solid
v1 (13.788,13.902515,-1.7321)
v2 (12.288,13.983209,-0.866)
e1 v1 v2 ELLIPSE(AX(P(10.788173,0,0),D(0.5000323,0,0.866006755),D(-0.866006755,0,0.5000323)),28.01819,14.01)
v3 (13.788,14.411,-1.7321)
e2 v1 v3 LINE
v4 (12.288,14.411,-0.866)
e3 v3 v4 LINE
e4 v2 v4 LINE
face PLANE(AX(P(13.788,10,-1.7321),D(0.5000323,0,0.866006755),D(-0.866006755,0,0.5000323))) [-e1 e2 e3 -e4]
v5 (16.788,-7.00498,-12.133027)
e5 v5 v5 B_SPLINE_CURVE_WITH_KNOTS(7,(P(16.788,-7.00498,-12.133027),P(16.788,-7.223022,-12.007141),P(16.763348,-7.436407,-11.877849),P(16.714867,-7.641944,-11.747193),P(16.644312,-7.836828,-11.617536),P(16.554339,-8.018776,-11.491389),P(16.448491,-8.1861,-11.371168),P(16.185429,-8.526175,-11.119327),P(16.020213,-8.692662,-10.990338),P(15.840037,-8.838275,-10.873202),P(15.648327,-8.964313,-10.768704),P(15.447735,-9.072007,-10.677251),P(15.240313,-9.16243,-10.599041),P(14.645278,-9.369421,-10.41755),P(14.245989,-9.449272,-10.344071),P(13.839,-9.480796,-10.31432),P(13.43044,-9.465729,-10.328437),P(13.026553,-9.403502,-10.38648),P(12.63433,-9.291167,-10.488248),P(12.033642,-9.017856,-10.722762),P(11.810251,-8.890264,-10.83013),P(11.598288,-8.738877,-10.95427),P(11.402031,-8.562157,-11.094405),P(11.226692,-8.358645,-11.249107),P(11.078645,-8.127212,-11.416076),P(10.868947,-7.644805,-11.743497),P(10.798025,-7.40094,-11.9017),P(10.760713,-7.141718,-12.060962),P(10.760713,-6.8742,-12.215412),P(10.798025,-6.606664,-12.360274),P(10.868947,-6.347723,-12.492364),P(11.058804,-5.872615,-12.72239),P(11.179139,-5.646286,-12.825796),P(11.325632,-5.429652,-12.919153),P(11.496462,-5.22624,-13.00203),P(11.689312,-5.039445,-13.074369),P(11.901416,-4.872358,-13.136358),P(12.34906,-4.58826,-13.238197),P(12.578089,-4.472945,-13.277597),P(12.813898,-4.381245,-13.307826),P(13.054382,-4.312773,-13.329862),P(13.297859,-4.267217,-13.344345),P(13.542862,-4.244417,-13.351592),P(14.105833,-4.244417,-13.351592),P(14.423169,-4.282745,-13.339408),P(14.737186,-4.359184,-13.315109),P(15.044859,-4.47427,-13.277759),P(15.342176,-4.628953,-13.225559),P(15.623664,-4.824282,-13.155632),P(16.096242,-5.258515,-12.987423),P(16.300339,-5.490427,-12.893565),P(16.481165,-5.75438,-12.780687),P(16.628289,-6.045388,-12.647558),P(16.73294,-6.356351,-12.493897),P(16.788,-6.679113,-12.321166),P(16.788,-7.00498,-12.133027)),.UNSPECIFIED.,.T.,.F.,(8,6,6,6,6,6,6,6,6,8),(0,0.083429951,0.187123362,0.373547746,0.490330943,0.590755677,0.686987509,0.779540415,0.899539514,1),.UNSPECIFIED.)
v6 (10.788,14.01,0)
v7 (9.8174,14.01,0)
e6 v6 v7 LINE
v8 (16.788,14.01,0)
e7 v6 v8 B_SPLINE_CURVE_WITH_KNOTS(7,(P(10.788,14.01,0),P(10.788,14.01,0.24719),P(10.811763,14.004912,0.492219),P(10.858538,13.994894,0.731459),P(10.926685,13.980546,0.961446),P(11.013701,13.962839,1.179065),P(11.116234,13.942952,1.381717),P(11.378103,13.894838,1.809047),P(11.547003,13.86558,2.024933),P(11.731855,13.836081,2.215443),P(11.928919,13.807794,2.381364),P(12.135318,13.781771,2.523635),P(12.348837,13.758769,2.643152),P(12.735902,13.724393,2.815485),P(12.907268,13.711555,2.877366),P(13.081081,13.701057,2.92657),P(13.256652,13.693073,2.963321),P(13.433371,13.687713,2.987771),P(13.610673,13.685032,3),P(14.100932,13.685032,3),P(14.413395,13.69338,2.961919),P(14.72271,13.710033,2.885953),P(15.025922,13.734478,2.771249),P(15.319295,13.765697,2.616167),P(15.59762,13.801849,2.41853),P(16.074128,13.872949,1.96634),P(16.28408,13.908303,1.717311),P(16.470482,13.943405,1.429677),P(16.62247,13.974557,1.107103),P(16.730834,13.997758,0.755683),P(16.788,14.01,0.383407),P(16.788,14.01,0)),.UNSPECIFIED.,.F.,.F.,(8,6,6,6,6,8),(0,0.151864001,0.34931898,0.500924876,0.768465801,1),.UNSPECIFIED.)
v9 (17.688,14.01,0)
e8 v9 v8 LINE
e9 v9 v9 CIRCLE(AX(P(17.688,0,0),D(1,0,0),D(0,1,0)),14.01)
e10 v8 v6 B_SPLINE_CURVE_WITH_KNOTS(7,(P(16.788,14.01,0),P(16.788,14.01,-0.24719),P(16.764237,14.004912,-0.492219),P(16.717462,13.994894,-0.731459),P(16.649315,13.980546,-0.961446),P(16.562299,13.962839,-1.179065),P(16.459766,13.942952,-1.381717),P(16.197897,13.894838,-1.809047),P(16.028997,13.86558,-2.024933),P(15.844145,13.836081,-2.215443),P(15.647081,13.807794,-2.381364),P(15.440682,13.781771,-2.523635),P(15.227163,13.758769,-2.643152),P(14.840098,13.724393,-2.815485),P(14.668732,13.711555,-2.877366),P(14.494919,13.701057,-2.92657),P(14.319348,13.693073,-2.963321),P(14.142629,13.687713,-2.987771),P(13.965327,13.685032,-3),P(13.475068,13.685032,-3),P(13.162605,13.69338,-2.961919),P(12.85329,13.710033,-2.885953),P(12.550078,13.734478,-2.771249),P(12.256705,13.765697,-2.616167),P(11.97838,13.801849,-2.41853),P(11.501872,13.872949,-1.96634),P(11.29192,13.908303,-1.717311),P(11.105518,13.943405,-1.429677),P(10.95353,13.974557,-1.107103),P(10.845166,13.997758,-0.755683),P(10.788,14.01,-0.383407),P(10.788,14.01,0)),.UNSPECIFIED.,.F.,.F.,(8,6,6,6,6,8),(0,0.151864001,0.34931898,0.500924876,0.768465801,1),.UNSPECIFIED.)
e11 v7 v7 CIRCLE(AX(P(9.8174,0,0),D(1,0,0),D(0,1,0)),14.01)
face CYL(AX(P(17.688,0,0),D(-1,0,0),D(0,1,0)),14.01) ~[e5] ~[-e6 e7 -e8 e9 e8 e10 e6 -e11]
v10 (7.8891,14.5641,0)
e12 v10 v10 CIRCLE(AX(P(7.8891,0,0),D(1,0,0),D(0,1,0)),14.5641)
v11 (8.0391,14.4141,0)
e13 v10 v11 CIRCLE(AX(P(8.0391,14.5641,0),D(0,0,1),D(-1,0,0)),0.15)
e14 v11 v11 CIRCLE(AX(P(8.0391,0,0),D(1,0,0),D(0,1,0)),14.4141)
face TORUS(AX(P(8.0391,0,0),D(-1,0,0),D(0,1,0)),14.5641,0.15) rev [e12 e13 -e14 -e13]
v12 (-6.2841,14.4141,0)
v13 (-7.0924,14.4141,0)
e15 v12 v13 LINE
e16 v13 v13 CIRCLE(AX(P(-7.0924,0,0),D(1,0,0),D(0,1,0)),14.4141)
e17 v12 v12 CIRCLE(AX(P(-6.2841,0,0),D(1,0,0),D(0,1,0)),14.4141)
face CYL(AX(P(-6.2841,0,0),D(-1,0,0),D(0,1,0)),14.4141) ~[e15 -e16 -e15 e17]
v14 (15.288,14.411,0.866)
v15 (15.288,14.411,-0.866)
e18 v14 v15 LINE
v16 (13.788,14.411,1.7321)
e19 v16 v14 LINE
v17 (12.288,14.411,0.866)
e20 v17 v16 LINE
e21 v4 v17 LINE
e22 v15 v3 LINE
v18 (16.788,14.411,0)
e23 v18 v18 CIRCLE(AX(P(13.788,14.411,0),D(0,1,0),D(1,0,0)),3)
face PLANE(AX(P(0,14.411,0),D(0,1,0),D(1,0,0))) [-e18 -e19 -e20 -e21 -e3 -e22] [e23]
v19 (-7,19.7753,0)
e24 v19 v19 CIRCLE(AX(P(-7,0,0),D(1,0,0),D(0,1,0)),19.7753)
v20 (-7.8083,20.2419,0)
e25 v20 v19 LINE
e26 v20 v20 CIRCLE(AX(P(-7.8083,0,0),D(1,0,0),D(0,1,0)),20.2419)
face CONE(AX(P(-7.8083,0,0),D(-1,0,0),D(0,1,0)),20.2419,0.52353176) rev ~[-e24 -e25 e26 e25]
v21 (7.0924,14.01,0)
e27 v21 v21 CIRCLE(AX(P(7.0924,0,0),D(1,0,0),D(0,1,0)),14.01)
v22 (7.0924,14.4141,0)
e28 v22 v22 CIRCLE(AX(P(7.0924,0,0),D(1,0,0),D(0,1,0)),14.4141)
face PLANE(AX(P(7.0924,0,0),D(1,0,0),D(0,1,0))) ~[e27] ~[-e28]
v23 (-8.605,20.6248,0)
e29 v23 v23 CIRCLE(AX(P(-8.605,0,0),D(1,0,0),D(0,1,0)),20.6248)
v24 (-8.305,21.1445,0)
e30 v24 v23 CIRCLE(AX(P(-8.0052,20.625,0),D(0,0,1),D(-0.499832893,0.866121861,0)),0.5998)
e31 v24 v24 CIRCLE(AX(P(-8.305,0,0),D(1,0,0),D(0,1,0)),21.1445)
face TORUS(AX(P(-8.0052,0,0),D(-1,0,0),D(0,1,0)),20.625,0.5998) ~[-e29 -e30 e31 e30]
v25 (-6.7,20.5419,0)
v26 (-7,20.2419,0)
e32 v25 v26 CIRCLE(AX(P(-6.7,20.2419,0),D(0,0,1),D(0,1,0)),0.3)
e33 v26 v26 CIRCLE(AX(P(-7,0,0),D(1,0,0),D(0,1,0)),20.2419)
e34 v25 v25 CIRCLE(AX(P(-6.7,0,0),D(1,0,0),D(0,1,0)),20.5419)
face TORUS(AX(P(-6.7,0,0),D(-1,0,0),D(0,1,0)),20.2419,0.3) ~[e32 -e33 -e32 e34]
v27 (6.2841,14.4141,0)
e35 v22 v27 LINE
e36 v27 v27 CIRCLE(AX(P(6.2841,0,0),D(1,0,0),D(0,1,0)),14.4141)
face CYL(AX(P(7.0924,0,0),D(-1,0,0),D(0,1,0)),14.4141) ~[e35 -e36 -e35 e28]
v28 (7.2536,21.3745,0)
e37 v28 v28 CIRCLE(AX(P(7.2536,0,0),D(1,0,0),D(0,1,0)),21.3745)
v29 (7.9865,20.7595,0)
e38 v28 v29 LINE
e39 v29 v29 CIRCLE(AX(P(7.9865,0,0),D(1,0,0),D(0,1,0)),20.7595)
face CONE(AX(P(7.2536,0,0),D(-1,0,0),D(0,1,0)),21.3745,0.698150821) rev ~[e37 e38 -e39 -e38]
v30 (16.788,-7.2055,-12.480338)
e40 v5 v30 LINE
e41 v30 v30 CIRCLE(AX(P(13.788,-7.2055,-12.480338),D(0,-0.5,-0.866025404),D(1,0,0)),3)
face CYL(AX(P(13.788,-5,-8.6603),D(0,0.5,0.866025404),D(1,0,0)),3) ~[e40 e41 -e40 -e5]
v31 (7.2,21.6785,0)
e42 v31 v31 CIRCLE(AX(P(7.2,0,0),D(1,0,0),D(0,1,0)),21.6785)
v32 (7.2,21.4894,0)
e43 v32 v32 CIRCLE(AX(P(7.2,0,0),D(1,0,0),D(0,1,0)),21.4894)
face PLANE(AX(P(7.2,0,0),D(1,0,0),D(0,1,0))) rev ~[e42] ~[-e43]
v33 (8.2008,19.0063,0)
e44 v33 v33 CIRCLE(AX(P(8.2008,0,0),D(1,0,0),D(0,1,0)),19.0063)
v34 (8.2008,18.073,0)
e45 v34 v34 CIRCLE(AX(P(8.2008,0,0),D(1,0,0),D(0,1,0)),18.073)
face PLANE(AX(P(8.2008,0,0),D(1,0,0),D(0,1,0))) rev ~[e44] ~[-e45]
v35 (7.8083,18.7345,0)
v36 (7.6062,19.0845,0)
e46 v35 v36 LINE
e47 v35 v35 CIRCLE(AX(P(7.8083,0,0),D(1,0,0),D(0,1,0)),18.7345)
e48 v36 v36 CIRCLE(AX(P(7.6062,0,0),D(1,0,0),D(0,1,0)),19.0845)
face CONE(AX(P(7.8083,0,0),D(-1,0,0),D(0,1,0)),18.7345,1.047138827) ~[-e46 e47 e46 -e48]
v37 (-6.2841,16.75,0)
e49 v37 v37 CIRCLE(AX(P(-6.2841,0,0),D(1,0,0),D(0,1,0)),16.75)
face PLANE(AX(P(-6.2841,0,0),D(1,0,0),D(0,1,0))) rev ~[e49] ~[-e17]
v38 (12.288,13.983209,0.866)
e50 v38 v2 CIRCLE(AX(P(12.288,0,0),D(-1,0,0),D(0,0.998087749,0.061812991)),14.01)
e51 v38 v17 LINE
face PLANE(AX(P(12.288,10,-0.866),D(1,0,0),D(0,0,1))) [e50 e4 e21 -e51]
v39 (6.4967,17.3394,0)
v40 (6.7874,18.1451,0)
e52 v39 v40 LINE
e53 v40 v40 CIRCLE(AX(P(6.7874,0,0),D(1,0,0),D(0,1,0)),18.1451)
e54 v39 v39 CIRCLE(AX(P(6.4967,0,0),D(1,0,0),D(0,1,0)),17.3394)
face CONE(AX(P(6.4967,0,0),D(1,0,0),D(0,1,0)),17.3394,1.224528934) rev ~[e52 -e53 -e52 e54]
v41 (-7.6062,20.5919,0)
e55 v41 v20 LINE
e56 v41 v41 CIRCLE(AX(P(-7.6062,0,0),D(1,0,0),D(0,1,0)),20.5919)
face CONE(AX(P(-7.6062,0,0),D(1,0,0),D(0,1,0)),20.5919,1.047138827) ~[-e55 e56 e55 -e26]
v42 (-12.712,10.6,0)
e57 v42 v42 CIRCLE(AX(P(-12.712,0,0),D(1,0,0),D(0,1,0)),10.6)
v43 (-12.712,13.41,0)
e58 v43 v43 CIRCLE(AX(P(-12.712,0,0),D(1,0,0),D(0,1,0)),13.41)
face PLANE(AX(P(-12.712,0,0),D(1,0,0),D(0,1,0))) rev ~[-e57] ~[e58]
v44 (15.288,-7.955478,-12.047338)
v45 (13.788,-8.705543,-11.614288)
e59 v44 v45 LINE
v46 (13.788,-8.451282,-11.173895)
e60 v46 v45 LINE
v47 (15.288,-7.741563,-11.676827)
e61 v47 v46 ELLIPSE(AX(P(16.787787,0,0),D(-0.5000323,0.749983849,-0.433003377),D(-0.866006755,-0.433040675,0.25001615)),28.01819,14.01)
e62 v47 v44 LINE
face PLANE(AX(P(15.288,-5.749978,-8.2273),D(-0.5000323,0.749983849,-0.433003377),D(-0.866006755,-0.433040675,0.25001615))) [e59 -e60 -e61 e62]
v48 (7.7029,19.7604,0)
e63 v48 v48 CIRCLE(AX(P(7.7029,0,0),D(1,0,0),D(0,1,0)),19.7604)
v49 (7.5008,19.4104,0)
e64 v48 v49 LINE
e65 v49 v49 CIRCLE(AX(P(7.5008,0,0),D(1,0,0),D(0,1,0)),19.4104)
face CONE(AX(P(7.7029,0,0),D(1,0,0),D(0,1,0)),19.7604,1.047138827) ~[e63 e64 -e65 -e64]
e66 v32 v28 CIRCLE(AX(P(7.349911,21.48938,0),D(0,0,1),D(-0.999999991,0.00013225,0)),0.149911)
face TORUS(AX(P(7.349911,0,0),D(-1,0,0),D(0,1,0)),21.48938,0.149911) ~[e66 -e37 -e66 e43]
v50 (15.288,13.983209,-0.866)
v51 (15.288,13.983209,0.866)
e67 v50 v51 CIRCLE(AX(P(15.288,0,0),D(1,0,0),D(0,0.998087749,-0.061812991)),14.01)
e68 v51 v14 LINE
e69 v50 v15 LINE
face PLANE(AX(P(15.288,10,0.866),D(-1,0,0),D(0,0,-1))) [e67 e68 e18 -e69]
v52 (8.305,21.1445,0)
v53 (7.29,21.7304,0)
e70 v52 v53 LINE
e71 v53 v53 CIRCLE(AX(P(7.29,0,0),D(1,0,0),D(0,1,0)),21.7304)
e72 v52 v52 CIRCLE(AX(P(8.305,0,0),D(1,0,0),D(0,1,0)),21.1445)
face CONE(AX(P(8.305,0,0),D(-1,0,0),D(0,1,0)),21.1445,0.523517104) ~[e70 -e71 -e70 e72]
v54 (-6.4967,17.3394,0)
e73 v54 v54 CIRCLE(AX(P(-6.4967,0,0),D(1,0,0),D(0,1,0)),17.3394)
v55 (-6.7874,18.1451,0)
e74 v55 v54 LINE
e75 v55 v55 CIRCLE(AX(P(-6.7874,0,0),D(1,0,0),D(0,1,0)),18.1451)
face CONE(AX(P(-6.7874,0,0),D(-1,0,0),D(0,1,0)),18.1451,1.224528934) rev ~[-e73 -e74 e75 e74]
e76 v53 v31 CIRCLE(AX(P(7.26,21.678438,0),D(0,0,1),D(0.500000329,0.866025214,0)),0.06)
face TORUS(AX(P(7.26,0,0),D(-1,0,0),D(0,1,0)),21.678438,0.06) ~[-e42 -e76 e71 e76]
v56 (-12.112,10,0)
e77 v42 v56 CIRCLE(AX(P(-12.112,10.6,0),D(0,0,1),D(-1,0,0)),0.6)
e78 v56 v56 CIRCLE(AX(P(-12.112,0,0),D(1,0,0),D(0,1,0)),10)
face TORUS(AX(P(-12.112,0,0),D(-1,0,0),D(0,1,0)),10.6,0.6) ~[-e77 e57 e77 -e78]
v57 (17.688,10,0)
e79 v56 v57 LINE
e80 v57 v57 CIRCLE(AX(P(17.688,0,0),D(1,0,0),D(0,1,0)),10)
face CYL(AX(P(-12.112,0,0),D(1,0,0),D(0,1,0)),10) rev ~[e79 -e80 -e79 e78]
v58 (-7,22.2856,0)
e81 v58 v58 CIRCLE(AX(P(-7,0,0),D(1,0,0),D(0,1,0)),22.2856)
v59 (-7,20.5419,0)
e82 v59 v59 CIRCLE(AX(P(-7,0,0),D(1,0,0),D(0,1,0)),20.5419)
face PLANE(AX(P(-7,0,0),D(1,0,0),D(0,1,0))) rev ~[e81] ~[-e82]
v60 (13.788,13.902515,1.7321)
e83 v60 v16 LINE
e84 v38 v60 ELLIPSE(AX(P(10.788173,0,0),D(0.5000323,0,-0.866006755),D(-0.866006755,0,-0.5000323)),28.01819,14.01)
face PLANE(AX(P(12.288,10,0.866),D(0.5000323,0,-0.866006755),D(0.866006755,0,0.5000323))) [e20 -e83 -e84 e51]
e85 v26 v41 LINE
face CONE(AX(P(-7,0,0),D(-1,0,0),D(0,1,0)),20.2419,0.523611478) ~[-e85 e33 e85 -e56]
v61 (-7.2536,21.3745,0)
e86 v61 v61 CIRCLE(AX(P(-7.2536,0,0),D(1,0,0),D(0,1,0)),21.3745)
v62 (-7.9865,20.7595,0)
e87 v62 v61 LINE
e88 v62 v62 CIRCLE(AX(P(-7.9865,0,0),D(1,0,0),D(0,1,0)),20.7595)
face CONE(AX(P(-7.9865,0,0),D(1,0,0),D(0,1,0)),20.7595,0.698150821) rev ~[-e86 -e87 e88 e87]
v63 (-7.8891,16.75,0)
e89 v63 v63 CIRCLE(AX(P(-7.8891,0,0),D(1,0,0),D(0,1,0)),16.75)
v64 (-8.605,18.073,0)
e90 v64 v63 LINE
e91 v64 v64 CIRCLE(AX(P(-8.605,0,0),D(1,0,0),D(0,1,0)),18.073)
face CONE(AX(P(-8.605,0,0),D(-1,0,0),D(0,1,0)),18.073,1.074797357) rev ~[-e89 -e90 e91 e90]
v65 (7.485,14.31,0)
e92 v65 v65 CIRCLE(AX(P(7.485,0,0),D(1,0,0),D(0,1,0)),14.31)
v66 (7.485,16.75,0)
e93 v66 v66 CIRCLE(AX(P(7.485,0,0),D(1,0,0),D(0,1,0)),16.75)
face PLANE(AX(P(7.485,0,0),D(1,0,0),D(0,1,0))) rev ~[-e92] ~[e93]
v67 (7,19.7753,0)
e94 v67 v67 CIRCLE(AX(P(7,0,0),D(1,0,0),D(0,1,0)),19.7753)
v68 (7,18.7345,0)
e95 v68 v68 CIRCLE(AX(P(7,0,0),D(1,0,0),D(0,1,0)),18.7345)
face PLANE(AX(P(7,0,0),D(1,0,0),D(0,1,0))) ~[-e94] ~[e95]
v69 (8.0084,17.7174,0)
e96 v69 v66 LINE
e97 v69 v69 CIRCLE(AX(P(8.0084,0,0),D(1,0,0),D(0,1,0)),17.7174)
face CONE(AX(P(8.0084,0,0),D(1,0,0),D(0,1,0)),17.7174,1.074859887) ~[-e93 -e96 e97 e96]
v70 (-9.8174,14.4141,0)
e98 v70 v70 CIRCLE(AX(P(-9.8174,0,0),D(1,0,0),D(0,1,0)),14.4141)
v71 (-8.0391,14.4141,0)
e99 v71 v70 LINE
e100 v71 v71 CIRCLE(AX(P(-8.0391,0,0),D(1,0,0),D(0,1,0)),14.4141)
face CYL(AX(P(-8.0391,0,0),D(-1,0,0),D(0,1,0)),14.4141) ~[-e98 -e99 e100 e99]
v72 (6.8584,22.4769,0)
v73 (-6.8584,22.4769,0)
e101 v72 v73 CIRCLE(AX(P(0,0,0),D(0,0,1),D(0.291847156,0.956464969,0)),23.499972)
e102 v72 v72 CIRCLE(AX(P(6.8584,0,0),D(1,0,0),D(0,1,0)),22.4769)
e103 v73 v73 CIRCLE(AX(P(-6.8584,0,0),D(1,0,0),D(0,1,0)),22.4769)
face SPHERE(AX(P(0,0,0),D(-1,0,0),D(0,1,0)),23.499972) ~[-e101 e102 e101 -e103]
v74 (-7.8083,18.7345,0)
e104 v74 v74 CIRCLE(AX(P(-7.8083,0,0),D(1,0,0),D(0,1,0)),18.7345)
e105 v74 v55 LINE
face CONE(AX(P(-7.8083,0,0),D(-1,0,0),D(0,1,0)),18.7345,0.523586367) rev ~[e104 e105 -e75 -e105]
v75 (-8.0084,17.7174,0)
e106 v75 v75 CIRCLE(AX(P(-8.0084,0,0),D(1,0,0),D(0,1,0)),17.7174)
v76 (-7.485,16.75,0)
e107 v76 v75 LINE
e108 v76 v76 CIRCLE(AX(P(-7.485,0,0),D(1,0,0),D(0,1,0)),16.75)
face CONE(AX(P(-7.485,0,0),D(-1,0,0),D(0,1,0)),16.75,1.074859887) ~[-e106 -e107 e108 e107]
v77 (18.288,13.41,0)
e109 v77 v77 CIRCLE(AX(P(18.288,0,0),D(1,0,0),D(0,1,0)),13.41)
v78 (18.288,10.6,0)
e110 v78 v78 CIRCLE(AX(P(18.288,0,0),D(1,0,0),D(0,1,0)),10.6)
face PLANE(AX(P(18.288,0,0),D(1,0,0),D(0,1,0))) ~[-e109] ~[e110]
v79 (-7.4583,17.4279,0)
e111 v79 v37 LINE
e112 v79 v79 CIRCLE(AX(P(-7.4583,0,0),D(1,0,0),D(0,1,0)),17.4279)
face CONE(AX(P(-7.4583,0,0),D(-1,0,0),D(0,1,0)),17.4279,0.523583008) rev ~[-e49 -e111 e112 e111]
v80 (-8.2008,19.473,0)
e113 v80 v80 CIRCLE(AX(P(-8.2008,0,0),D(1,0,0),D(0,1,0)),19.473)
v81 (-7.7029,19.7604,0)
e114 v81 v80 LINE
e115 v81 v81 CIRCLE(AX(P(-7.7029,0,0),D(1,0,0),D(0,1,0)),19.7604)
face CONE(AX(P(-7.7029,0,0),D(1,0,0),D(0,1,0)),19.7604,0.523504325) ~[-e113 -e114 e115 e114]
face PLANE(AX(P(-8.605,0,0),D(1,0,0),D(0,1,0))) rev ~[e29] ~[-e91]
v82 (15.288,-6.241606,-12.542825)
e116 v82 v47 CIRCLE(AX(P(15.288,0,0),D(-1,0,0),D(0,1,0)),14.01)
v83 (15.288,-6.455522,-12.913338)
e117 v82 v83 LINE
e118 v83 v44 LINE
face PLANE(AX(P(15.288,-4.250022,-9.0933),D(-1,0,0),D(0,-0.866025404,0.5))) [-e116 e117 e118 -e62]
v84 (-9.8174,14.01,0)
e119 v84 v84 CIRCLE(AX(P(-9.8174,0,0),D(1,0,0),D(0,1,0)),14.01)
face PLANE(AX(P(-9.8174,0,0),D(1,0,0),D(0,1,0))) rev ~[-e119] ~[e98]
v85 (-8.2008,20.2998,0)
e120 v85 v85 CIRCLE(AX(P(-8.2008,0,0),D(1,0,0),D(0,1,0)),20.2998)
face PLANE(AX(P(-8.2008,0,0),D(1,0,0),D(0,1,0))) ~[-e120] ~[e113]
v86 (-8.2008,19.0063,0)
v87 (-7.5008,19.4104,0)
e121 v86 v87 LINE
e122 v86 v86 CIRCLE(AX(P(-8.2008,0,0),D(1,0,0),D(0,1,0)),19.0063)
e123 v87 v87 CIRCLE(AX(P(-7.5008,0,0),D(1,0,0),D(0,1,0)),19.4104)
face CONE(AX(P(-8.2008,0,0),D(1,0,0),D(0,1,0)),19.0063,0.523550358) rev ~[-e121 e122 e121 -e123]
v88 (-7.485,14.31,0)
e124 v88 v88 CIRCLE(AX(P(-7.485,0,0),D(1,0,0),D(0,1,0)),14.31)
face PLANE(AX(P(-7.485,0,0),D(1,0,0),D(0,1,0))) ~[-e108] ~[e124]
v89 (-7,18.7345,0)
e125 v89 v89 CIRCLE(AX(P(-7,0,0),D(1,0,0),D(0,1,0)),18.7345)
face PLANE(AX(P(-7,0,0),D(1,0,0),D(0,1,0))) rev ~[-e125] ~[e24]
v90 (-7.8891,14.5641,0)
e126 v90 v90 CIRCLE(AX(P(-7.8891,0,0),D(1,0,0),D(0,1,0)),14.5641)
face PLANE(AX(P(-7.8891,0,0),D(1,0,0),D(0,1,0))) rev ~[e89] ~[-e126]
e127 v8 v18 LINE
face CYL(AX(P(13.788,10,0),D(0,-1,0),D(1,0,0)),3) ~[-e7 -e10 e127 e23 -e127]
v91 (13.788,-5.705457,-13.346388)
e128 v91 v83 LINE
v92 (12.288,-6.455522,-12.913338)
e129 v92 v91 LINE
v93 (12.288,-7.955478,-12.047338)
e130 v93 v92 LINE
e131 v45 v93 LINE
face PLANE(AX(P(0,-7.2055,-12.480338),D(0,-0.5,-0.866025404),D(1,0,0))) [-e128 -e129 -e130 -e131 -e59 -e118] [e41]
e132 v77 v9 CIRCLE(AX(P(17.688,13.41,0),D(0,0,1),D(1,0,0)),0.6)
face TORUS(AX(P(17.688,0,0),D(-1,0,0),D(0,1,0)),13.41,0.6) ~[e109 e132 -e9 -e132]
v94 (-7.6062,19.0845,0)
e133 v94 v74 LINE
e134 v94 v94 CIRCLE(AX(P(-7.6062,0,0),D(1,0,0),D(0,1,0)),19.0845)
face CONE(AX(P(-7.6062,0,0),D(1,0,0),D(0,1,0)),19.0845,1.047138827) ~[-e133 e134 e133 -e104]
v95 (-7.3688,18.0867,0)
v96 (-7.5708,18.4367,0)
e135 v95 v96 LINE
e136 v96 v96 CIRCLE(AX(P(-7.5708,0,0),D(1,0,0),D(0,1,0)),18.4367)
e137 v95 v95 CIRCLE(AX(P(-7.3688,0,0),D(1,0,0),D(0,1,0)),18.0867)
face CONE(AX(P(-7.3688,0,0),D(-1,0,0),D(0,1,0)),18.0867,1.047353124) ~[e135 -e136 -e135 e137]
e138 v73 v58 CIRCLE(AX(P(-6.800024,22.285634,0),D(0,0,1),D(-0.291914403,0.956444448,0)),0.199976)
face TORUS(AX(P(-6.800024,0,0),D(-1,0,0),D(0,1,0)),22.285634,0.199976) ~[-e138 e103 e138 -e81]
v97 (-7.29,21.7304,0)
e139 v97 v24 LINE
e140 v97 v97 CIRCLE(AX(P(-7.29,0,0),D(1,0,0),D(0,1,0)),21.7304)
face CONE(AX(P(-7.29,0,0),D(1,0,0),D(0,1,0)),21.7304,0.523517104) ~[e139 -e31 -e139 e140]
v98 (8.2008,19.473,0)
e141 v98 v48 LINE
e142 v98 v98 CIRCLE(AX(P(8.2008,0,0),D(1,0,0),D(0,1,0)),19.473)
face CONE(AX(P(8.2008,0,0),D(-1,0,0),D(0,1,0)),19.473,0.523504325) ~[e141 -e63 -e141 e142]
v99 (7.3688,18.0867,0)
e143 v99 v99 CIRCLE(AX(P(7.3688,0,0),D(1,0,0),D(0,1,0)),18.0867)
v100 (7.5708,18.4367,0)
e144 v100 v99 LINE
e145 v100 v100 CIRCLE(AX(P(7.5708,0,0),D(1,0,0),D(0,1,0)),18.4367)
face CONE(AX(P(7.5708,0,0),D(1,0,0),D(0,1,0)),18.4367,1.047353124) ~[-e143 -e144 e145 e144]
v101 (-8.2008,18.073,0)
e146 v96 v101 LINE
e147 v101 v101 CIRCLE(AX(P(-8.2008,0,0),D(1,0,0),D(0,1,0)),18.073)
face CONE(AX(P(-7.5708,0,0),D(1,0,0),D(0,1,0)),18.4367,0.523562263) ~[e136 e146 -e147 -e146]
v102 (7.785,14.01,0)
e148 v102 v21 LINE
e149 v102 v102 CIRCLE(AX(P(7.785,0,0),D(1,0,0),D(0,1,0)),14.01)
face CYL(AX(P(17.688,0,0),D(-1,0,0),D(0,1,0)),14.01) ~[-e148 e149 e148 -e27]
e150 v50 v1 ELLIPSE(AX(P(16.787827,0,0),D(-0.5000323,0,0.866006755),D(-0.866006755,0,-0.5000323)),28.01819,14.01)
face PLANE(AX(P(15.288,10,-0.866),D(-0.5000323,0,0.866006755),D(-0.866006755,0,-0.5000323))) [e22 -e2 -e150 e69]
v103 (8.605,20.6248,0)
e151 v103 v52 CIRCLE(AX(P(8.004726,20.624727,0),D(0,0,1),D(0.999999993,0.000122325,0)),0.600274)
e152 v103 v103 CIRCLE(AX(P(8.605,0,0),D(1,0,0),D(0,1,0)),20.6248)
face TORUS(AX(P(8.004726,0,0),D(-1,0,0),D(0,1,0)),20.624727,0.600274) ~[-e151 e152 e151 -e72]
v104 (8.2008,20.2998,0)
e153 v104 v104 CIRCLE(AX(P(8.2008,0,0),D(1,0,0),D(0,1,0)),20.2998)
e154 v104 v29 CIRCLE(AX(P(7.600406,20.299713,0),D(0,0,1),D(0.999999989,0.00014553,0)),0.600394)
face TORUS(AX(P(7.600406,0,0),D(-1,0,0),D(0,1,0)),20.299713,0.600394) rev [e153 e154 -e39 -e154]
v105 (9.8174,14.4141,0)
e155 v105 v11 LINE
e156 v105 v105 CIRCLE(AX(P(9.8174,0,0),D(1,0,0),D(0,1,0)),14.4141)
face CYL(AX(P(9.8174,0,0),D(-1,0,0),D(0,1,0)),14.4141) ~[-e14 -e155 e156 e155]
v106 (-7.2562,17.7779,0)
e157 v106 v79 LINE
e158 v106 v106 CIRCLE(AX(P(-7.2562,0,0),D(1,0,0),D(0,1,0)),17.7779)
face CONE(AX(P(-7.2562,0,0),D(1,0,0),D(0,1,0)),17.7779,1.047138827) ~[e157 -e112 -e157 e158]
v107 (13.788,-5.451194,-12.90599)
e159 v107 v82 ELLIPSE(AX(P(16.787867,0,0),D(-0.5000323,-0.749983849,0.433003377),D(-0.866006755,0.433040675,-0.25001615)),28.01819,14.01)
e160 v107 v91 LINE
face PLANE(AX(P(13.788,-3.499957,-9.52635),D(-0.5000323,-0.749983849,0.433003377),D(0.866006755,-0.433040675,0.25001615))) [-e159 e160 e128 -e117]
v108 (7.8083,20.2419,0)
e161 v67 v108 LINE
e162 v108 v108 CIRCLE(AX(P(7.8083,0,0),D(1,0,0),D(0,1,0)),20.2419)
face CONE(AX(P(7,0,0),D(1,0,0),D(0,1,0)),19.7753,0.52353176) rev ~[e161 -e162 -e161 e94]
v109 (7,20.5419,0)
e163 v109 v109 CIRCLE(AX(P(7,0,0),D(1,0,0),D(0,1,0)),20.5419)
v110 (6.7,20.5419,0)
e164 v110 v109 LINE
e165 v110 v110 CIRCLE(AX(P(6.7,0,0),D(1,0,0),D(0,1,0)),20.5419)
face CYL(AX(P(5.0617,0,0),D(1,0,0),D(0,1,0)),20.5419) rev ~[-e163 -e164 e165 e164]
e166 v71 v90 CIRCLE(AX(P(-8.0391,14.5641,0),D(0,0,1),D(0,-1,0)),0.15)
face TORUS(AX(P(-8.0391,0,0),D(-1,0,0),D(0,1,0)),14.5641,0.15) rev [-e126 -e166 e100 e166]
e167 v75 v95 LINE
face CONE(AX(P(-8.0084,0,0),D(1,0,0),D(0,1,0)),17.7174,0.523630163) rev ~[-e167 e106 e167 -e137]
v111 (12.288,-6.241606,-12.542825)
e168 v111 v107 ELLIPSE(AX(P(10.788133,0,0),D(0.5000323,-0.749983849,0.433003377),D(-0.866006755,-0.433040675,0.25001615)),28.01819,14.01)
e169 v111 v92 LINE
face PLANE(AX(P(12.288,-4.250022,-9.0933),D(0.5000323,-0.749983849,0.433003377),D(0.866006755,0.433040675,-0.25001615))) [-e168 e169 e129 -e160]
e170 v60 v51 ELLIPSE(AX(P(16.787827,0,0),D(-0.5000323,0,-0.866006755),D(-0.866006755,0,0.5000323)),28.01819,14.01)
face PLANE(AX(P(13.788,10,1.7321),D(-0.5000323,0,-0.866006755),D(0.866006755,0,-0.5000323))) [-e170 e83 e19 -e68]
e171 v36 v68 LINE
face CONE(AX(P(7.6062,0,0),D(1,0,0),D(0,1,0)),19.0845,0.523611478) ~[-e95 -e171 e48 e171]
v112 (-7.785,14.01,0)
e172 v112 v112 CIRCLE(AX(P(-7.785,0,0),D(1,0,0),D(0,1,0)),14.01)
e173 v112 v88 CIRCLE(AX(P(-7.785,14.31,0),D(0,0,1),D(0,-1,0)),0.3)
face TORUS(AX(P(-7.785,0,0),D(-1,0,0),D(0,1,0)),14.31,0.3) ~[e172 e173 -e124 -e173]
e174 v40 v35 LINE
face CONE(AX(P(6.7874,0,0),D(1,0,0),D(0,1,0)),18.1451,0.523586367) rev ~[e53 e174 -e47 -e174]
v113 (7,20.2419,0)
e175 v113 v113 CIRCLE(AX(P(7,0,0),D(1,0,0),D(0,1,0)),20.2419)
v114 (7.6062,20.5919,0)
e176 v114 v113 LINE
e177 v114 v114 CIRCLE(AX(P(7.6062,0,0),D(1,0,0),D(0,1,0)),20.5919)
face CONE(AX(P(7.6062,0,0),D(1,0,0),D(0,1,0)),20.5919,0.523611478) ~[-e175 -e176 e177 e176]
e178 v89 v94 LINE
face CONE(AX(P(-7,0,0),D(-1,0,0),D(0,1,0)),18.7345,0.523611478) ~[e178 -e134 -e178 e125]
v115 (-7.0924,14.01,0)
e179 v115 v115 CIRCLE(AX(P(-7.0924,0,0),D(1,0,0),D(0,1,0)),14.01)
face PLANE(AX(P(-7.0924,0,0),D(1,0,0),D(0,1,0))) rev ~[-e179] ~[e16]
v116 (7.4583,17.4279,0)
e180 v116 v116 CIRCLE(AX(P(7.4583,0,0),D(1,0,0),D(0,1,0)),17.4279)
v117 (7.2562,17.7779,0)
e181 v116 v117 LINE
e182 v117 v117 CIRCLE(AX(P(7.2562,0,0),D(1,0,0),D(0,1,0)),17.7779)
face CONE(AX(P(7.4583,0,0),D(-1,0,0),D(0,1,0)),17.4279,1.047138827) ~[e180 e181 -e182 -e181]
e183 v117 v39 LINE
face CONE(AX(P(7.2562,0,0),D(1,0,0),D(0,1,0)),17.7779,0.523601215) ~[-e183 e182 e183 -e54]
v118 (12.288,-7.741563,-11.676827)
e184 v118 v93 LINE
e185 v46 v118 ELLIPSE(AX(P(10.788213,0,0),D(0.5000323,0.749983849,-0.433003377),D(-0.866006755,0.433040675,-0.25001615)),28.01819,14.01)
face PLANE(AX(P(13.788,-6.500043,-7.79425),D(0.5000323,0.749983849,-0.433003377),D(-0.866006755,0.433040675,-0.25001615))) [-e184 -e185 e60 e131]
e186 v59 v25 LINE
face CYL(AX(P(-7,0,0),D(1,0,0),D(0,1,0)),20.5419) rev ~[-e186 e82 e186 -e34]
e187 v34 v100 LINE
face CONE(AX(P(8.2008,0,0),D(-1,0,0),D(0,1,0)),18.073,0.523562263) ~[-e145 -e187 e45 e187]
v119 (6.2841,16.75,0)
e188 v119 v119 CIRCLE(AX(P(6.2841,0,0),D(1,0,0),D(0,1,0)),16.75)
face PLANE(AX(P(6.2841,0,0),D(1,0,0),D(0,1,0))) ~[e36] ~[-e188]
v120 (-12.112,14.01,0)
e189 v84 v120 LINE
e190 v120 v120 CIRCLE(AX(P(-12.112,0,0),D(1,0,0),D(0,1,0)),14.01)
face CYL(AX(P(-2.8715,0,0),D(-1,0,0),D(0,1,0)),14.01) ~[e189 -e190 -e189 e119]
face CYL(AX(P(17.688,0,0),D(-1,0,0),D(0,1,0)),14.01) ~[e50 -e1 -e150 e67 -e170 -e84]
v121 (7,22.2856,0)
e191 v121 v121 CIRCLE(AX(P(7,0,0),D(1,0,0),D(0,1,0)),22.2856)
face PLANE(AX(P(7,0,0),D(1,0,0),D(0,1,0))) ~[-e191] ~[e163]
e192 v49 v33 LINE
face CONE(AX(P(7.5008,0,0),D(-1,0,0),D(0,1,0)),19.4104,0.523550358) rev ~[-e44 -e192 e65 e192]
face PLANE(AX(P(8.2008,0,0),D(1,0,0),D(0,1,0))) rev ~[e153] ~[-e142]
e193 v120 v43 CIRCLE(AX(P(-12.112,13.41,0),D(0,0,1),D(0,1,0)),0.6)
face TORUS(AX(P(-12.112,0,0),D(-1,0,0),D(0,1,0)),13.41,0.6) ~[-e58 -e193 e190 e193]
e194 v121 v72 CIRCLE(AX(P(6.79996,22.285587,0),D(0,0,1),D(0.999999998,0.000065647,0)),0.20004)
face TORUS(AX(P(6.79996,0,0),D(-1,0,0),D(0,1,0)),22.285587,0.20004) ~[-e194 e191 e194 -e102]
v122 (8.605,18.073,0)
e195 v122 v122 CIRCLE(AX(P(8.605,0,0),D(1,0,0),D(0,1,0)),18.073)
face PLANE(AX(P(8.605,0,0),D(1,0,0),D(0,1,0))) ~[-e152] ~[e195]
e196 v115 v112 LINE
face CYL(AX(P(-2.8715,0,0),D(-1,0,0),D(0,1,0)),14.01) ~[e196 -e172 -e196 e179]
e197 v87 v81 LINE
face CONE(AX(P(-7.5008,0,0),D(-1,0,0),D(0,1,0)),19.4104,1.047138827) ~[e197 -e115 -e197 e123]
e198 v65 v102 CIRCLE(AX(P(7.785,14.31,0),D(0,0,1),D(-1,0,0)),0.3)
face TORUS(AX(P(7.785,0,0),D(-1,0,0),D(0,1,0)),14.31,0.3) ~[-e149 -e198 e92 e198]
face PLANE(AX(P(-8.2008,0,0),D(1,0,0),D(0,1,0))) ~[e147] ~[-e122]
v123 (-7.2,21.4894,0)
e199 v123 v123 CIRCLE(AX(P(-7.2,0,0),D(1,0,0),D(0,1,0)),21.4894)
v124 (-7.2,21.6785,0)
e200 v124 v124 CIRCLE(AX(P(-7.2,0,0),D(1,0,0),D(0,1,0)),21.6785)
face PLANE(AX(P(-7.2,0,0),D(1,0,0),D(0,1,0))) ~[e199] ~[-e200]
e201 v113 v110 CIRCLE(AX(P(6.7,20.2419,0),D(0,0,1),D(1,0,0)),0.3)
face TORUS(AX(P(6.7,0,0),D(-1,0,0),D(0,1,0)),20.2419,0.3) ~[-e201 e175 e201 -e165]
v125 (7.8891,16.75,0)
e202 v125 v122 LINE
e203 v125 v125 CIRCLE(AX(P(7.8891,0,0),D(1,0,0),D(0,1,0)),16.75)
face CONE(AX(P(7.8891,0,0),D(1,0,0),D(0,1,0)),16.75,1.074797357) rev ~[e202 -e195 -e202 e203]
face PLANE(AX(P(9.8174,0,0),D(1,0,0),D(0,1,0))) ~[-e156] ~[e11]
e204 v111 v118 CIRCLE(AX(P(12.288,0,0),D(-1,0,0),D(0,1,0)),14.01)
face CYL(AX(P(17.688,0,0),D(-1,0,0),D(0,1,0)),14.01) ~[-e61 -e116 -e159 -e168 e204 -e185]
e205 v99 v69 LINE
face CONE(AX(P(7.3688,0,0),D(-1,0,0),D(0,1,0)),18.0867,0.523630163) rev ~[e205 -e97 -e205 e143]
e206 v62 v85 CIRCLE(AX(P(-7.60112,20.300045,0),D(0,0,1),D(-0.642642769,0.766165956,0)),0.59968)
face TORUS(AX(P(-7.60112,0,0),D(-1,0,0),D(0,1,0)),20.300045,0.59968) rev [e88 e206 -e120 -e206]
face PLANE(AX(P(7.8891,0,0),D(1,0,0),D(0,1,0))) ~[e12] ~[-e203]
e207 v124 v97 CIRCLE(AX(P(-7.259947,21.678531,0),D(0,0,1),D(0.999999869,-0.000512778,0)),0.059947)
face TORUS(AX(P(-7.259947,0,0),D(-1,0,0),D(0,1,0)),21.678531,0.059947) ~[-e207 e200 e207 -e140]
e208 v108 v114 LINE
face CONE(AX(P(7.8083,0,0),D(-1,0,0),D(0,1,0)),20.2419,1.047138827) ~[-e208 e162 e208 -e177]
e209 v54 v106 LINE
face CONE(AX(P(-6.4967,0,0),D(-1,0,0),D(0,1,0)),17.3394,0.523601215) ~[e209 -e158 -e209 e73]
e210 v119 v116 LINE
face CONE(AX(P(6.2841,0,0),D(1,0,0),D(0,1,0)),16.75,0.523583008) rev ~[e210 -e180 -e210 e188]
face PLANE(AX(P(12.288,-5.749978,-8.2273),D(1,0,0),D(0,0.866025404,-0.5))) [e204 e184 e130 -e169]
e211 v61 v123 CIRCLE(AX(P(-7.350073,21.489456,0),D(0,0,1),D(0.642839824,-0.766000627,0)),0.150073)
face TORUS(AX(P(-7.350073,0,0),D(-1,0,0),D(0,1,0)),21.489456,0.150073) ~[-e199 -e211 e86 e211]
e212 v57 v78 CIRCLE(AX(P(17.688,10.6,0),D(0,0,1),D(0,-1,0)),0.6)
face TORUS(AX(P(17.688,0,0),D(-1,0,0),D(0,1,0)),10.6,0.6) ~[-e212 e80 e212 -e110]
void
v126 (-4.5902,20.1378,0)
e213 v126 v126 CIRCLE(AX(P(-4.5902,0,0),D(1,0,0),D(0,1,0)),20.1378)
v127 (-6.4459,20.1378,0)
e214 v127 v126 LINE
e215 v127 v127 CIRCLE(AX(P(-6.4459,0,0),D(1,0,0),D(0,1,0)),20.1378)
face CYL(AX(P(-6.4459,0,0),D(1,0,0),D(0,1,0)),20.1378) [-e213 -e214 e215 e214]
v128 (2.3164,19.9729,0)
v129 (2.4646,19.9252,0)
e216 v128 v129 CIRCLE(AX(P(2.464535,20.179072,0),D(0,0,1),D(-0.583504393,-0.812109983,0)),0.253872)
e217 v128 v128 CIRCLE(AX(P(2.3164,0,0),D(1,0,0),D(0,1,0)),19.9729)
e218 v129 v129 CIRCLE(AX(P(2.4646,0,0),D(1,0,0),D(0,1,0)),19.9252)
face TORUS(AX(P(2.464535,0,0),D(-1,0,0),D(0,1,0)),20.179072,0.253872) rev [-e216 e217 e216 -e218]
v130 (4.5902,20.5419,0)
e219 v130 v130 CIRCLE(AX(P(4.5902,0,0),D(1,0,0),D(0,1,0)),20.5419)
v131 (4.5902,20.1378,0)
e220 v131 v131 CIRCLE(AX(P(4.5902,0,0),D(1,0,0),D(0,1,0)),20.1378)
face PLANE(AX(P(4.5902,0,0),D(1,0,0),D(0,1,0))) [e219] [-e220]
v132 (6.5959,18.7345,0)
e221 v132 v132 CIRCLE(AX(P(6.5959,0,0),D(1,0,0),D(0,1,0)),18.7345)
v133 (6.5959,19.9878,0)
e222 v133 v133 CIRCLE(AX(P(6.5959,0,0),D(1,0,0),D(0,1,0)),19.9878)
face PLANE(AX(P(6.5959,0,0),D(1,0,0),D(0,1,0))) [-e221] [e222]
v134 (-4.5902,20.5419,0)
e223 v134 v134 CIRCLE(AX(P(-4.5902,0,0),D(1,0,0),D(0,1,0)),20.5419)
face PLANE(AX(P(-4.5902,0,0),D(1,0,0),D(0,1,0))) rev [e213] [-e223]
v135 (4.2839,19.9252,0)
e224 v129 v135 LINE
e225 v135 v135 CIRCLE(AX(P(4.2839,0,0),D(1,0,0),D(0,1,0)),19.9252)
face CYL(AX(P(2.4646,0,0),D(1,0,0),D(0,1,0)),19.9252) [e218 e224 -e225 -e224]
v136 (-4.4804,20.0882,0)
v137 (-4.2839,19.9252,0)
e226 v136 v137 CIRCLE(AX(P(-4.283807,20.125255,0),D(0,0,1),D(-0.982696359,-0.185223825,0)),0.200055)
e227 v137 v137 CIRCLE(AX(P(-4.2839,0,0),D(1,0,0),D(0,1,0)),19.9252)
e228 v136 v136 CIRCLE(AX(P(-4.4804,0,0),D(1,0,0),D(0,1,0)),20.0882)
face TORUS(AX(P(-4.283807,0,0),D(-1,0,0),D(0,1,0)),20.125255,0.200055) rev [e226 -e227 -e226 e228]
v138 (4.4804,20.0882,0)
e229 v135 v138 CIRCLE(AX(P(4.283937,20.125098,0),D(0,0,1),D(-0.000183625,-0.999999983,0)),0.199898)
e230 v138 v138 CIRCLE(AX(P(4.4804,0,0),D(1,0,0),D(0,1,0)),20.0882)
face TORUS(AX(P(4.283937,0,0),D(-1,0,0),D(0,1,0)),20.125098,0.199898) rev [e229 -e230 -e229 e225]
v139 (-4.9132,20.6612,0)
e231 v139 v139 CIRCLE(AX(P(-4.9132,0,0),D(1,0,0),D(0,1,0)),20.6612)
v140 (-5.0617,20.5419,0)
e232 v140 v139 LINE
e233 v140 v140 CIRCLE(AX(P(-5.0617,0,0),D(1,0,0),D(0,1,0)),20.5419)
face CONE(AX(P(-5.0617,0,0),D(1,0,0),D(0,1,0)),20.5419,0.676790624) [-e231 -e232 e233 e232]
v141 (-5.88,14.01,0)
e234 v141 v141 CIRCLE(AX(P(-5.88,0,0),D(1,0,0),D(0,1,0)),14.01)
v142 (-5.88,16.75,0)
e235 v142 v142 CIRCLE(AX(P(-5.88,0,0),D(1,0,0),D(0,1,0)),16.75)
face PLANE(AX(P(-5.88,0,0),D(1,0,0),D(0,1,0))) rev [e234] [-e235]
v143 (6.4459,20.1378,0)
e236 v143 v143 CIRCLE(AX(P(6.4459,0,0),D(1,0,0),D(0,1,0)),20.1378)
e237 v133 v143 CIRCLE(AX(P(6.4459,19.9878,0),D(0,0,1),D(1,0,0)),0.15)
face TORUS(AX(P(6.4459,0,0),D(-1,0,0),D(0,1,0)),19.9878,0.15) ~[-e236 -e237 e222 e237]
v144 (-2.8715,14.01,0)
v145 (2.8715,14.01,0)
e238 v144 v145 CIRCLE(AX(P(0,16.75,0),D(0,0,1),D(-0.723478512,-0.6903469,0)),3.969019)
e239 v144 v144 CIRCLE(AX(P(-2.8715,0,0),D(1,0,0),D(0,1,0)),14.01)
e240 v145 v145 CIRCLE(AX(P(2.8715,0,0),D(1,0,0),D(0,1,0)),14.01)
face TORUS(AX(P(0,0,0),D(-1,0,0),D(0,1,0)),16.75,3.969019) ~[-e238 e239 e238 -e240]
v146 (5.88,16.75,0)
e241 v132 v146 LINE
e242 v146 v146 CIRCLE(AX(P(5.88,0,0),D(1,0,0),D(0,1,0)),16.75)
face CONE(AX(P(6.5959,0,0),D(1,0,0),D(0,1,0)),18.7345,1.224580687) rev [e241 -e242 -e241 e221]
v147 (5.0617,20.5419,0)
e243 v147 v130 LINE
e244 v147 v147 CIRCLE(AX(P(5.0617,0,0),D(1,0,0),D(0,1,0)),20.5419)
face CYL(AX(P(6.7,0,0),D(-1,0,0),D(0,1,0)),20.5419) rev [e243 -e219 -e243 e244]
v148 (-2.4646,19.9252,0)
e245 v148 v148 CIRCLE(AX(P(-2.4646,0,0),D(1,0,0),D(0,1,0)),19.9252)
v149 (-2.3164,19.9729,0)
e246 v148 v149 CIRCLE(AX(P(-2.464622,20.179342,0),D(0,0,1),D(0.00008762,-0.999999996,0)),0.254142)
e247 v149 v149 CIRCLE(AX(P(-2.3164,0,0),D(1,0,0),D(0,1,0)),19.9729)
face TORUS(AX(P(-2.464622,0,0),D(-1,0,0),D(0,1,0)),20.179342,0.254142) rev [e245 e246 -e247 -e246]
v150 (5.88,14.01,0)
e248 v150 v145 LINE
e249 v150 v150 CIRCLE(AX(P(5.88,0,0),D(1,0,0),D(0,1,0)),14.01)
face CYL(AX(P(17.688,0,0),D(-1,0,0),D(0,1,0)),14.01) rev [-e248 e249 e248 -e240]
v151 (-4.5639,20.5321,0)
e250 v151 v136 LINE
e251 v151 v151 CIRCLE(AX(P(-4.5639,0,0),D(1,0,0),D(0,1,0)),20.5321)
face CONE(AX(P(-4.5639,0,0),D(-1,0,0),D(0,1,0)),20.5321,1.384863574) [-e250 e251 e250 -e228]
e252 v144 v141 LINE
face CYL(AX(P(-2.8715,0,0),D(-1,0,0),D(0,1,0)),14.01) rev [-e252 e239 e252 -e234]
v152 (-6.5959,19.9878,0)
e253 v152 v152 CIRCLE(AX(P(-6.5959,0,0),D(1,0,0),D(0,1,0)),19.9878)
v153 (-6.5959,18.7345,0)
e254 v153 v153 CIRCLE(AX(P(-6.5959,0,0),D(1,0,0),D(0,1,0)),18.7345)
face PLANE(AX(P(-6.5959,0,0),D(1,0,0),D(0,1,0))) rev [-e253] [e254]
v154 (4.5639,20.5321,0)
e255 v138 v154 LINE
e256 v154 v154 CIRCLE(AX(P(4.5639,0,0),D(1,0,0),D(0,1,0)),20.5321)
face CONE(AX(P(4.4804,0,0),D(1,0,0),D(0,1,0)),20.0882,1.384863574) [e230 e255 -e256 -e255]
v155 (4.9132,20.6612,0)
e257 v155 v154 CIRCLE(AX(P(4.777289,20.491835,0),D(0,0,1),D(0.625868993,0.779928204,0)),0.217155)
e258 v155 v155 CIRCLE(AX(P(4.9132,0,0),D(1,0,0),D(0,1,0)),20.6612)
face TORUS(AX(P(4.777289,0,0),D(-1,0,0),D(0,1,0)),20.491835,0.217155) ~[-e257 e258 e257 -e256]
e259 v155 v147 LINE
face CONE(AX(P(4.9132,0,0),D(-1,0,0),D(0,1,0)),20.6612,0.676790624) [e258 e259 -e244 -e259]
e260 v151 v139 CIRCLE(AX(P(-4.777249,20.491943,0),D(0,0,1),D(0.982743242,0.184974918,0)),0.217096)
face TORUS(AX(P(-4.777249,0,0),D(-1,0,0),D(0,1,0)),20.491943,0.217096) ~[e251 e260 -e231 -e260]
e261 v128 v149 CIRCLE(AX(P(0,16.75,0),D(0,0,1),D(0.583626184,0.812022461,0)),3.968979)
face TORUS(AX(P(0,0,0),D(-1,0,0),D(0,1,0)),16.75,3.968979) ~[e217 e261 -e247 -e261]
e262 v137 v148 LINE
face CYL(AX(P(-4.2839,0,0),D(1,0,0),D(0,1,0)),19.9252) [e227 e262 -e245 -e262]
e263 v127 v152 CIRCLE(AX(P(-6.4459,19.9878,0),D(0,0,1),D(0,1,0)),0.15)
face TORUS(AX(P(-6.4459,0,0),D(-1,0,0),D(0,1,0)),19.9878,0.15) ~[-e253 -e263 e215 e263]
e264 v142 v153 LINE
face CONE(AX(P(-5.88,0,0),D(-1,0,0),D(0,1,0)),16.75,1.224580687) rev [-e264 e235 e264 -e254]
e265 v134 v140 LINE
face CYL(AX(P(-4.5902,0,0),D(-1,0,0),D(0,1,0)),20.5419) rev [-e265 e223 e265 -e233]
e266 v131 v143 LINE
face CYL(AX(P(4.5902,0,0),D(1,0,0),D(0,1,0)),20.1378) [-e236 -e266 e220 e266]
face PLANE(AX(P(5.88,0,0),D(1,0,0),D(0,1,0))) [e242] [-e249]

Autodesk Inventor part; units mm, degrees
sketch "Sketch_1" plane through (0, 0, 0) normal (0, 0, 1) x (1, 0, 0)
  line L0 (50, 0) -> (-50, 0)
  arc A0 (-12.712, 10.6) -> (-12.112, 10) centre (-12.112, 10.6) ccw
  line L1 (-12.112, 10) -> (17.688, 10)
  arc A1 (17.688, 10) -> (18.288, 10.6) centre (17.688, 10.6) ccw
  line L2 (18.288, 10.6) -> (18.288, 13.41)
  arc A2 (18.288, 13.41) -> (17.688, 14.01) centre (17.688, 13.41) ccw
  line L3 (17.688, 14.01) -> (2.8715, 14.01)
  arc A3 (-2.8715, 14.01) -> (2.8715, 14.01) centre (0, 16.75) ccw
  line L4 (-2.8715, 14.01) -> (-12.112, 14.01)
  arc A4 (-12.112, 14.01) -> (-12.712, 13.41) centre (-12.112, 13.41) ccw
  line L5 (-12.712, 13.41) -> (-12.712, 10.6)
revolve "Revolution1" add sketch "Sketch_1" angle 360 about axis through (50, 0, 0) along (1, 0, 0)
sketch "Sketch_2" plane through (0, 10, 0) normal (0, 1, 0) x (1, 0, 0)
  circle A0 centre (13.788, 0) radius 3
  line L0 (12.288, -0.866) -> (13.788, -1.7321)
  line L1 (13.788, -1.7321) -> (15.288, -0.866)
  line L2 (15.288, -0.866) -> (15.288, 0.866)
  line L3 (15.288, 0.866) -> (13.788, 1.7321)
  line L4 (13.788, 1.7321) -> (12.288, 0.866)
  line L5 (12.288, 0.866) -> (12.288, -0.866)
extrude "Extrusion1" add sketch "Sketch_2" along normal blind 4.411
sketch "Sketch_3" plane through (0, -5, -8.6603) normal (0, -0.5, -0.866) x (1, 0, 0)
  circle A0 centre (13.788, 0) radius 3
  line L0 (12.288, -0.866) -> (13.788, -1.7321)
  line L1 (13.788, -1.7321) -> (15.288, -0.866)
  line L2 (15.288, -0.866) -> (15.288, 0.866)
  line L3 (15.288, 0.866) -> (13.788, 1.7321)
  line L4 (13.788, 1.7321) -> (12.288, 0.866)
  line L5 (12.288, 0.866) -> (12.288, -0.866)
extrude "Extrusion2" add sketch "Sketch_3" along normal blind 4.411
sketch "Sketch_16" plane through (0, 0, 0) normal (0, 0, 1) x (1, 0, 0)
  line L0 (7, 0) -> (-7, 0)
  line L1 (-7, 20.5419) -> (-5.0617, 20.5419)
  line L2 (-5.0617, 20.5419) -> (-4.9132, 20.6612)
  arc A0 (-4.5639, 20.5321) -> (-4.9132, 20.6612) centre (-4.7773, 20.4919) ccw
  line L3 (-4.5639, 20.5321) -> (-4.4804, 20.0882)
  arc A1 (-4.4804, 20.0882) -> (-4.2839, 19.9252) centre (-4.2839, 20.1252) ccw
  line L4 (-4.2839, 19.9252) -> (-2.4646, 19.9252)
  arc A2 (-2.4646, 19.9252) -> (-2.3164, 19.9729) centre (-2.4646, 20.1792) ccw
  arc A3 (2.3164, 19.9729) -> (-2.3164, 19.9729) centre (0, 16.75) ccw
  arc A4 (2.3164, 19.9729) -> (2.4646, 19.9252) centre (2.4646, 20.1792) ccw
  line L5 (2.4646, 19.9252) -> (4.2839, 19.9252)
  arc A5 (4.2839, 19.9252) -> (4.4804, 20.0882) centre (4.2839, 20.1252) ccw
  line L6 (4.4804, 20.0882) -> (4.5639, 20.5321)
  arc A6 (4.9132, 20.6612) -> (4.5639, 20.5321) centre (4.7773, 20.4919) ccw
  line L7 (4.9132, 20.6612) -> (5.0617, 20.5419)
  line L8 (5.0617, 20.5419) -> (7, 20.5419)
  line L9 (7, 20.5419) -> (7, 22.2856)
  arc A7 (7, 22.2856) -> (6.8584, 22.4769) centre (6.8, 22.2856) ccw
  arc A8 (6.8584, 22.4769) -> (-6.8584, 22.4769) centre (0, 0) ccw
  arc A9 (-6.8584, 22.4769) -> (-7, 22.2856) centre (-6.8, 22.2856) ccw
  line L10 (-7, 22.2856) -> (-7, 20.5419)
sketch "Sketch_30" plane through (0, 0, 0) normal (0, 0, 1) x (1, 0, 0)
  line L0 (7, 0) -> (-7, 0)
  line L1 (-7.8083, 20.2419) -> (-7, 19.7753)
  line L2 (-7, 19.7753) -> (-7, 18.7345)
  line L3 (-7, 18.7345) -> (-7.6062, 19.0845)
  line L4 (-7.6062, 19.0845) -> (-7.8083, 18.7345)
  line L5 (-7.8083, 18.7345) -> (-6.7874, 18.1451)
  line L6 (-6.7874, 18.1451) -> (-6.4967, 17.3394)
  line L7 (-6.4967, 17.3394) -> (-7.2562, 17.7779)
  line L8 (-7.2562, 17.7779) -> (-7.4583, 17.4279)
  line L9 (-7.4583, 17.4279) -> (-6.2841, 16.75)
  line L10 (-6.2841, 16.75) -> (-6.2841, 14.4141)
  line L11 (-6.2841, 14.4141) -> (-7.0924, 14.4141)
  line L12 (-7.0924, 14.4141) -> (-7.0924, 14.01)
  line L13 (-7.0924, 14.01) -> (-5.88, 14.01)
  line L14 (-5.88, 14.01) -> (-5.88, 16.75)
  line L15 (-5.88, 16.75) -> (-6.5959, 18.7345)
  line L16 (-6.5959, 18.7345) -> (-6.5959, 19.9878)
  arc A0 (-6.4459, 20.1378) -> (-6.5959, 19.9878) centre (-6.4459, 19.9878) ccw
  line L17 (-6.4459, 20.1378) -> (-4.5902, 20.1378)
  line L18 (-4.5902, 20.1378) -> (-4.5902, 20.5419)
  line L19 (-4.5902, 20.5419) -> (-6.7, 20.5419)
  arc A1 (-6.7, 20.5419) -> (-7, 20.2419) centre (-6.7, 20.2419) ccw
  line L20 (-7, 20.2419) -> (-7.6062, 20.5919)
  line L21 (-7.6062, 20.5919) -> (-7.8083, 20.2419)
revolve "Revolution2" add sketch "Sketch_30" angle 360 about axis through (7, 0, 0) along (1, 0, 0)
sketch "Sketch_31" plane through (0, 0, 0) normal (0, 0, 1) x (1, 0, 0)
  line L0 (7, 0) -> (-7, 0)
  line L1 (4.5902, 20.1378) -> (6.4459, 20.1378)
  arc A0 (6.5959, 19.9878) -> (6.4459, 20.1378) centre (6.4459, 19.9878) ccw
  line L2 (6.5959, 19.9878) -> (6.5959, 18.7345)
  line L3 (6.5959, 18.7345) -> (5.88, 16.75)
  line L4 (5.88, 16.75) -> (5.88, 14.01)
  line L5 (5.88, 14.01) -> (7.0924, 14.01)
  line L6 (7.0924, 14.01) -> (7.0924, 14.4141)
  line L7 (7.0924, 14.4141) -> (6.2841, 14.4141)
  line L8 (6.2841, 14.4141) -> (6.2841, 16.75)
  line L9 (6.2841, 16.75) -> (7.4583, 17.4279)
  line L10 (7.4583, 17.4279) -> (7.2562, 17.7779)
  line L11 (7.2562, 17.7779) -> (6.4967, 17.3394)
  line L12 (6.4967, 17.3394) -> (6.7874, 18.1451)
  line L13 (6.7874, 18.1451) -> (7.8083, 18.7345)
  line L14 (7.8083, 18.7345) -> (7.6062, 19.0845)
  line L15 (7.6062, 19.0845) -> (7, 18.7345)
  line L16 (7, 18.7345) -> (7, 19.7753)
  line L17 (7, 19.7753) -> (7.8083, 20.2419)
  line L18 (7.8083, 20.2419) -> (7.6062, 20.5919)
  line L19 (7.6062, 20.5919) -> (7, 20.2419)
  arc A1 (7, 20.2419) -> (6.7, 20.5419) centre (6.7, 20.2419) ccw
  line L20 (6.7, 20.5419) -> (4.5902, 20.5419)
  line L21 (4.5902, 20.5419) -> (4.5902, 20.1378)
revolve "Revolution3" add sketch "Sketch_31" angle 360 about axis through (7, 0, 0) along (1, 0, 0)
revolve "Revolution4" add sketch "Sketch_16" angle 360 about axis through (7, 0, 0) along (1, 0, 0)
sketch "Sketch_32" plane through (0, 0, 0) normal (0, 0, 1) x (1, 0, 0)
  line L0 (7, 0) -> (-7, 0)
  line L1 (7.2, 21.6785) -> (7.2, 21.4894)
  arc A0 (7.2, 21.4894) -> (7.2536, 21.3745) centre (7.35, 21.4894) ccw
  line L2 (7.2536, 21.3745) -> (7.9865, 20.7595)
  arc A1 (8.2008, 20.2998) -> (7.9865, 20.7595) centre (7.6008, 20.2998) ccw
  line L3 (8.2008, 20.2998) -> (8.2008, 19.473)
  line L4 (8.2008, 19.473) -> (7.7029, 19.7604)
  line L5 (7.7029, 19.7604) -> (7.5008, 19.4104)
  line L6 (7.5008, 19.4104) -> (8.2008, 19.0063)
  line L7 (8.2008, 19.0063) -> (8.2008, 18.073)
  line L8 (8.2008, 18.073) -> (7.5708, 18.4367)
  line L9 (7.5708, 18.4367) -> (7.3688, 18.0867)
  line L10 (7.3688, 18.0867) -> (8.0084, 17.7174)
  line L11 (8.0084, 17.7174) -> (7.485, 16.75)
  line L12 (7.485, 16.75) -> (7.485, 14.31)
  arc A2 (7.485, 14.31) -> (7.785, 14.01) centre (7.785, 14.31) ccw
  line L13 (7.785, 14.01) -> (9.8174, 14.01)
  line L14 (9.8174, 14.01) -> (9.8174, 14.4141)
  line L15 (9.8174, 14.4141) -> (8.0391, 14.4141)
  arc A3 (7.8891, 14.5641) -> (8.0391, 14.4141) centre (8.0391, 14.5641) ccw
  line L16 (7.8891, 14.5641) -> (7.8891, 16.75)
  line L17 (7.8891, 16.75) -> (8.605, 18.073)
  line L18 (8.605, 18.073) -> (8.605, 20.6248)
  arc A4 (8.605, 20.6248) -> (8.305, 21.1445) centre (8.005, 20.6248) ccw
  line L19 (8.305, 21.1445) -> (7.29, 21.7304)
  arc A5 (7.29, 21.7304) -> (7.2, 21.6785) centre (7.26, 21.6785) ccw
revolve "Revolution5" add sketch "Sketch_32" angle 360 about axis through (7, 0, 0) along (1, 0, 0)
sketch "Sketch_34" plane through (0, 0, 0) normal (0, 0, 1) x (1, 0, 0)
  line L0 (7, 0) -> (-7, 0)
  line L1 (-9.8174, 14.4141) -> (-9.8174, 14.01)
  line L2 (-9.8174, 14.01) -> (-7.785, 14.01)
  arc A0 (-7.785, 14.01) -> (-7.485, 14.31) centre (-7.785, 14.31) ccw
  line L3 (-7.485, 14.31) -> (-7.485, 16.75)
  line L4 (-7.485, 16.75) -> (-8.0084, 17.7174)
  line L5 (-8.0084, 17.7174) -> (-7.3688, 18.0867)
  line L6 (-7.3688, 18.0867) -> (-7.5708, 18.4367)
  line L7 (-7.5708, 18.4367) -> (-8.2008, 18.073)
  line L8 (-8.2008, 18.073) -> (-8.2008, 19.0063)
  line L9 (-8.2008, 19.0063) -> (-7.5008, 19.4104)
  line L10 (-7.5008, 19.4104) -> (-7.7029, 19.7604)
  line L11 (-7.7029, 19.7604) -> (-8.2008, 19.473)
  line L12 (-8.2008, 19.473) -> (-8.2008, 20.2998)
  arc A1 (-7.9865, 20.7595) -> (-8.2008, 20.2998) centre (-7.6008, 20.2998) ccw
  line L13 (-7.9865, 20.7595) -> (-7.2536, 21.3745)
  arc A2 (-7.2536, 21.3745) -> (-7.2, 21.4894) centre (-7.35, 21.4894) ccw
  line L14 (-7.2, 21.4894) -> (-7.2, 21.6785)
  arc A3 (-7.2, 21.6785) -> (-7.29, 21.7304) centre (-7.26, 21.6785) ccw
  line L15 (-7.29, 21.7304) -> (-8.305, 21.1445)
  arc A4 (-8.305, 21.1445) -> (-8.605, 20.6248) centre (-8.005, 20.6248) ccw
  line L16 (-8.605, 20.6248) -> (-8.605, 18.073)
  line L17 (-8.605, 18.073) -> (-7.8891, 16.75)
  line L18 (-7.8891, 16.75) -> (-7.8891, 14.5641)
  arc A5 (-8.0391, 14.4141) -> (-7.8891, 14.5641) centre (-8.0391, 14.5641) ccw
  line L19 (-8.0391, 14.4141) -> (-9.8174, 14.4141)
revolve "Revolution6" add sketch "Sketch_34" angle 360 about axis through (7, 0, 0) along (1, 0, 0)
ref_plane "ball_1_XY" through (0, 16.75, 0) normal (1, 0, 0) x (0, 0, -1)
ref_plane "ball_1_YZ" through (0, 16.75, 0) normal (0, 0, -1) x (0, 1, 0)
ref_plane "ball_1_ZX" through (0, 16.75, 0) normal (0, 1, 0) x (1, 0, 0)
ref_plane "ball_2_XY" through (0, 11.844, 11.844) normal (1, 0, 0) x (0, 0, -1)
ref_plane "ball_2_YZ" through (0, 11.844, 11.844) normal (0, 0, -1) x (0, 1, 0)
ref_plane "ball_2_ZX" through (0, 11.844, 11.844) normal (0, 1, 0) x (1, 0, 0)
ref_plane "ball_3_XY" through (0, 0, 16.75) normal (1, 0, 0) x (0, 0, -1)
ref_plane "ball_3_YZ" through (0, 0, 16.75) normal (0, 0, -1) x (0, 1, 0)
ref_plane "ball_3_ZX" through (0, 0, 16.75) normal (0, 1, 0) x (1, 0, 0)
ref_plane "ball_4_XY" through (0, -11.844, 11.844) normal (1, 0, 0) x (0, 0, -1)
ref_plane "ball_4_YZ" through (0, -11.844, 11.844) normal (0, 0, -1) x (0, 1, 0)
ref_plane "ball_4_ZX" through (0, -11.844, 11.844) normal (0, 1, 0) x (1, 0, 0)
ref_plane "ball_5_XY" through (0, -16.75, 0) normal (1, 0, 0) x (0, 0, -1)
ref_plane "ball_5_YZ" through (0, -16.75, 0) normal (0, 0, -1) x (0, 1, 0)
ref_plane "ball_5_ZX" through (0, -16.75, 0) normal (0, 1, 0) x (1, 0, 0)
ref_plane "ball_6_XY" through (0, -11.844, -11.844) normal (1, 0, 0) x (0, 0, -1)
ref_plane "ball_6_YZ" through (0, -11.844, -11.844) normal (0, 0, -1) x (0, 1, 0)
ref_plane "ball_6_ZX" through (0, -11.844, -11.844) normal (0, 1, 0) x (1, 0, 0)
ref_plane "ball_7_XY" through (0, 0, -16.75) normal (1, 0, 0) x (0, 0, -1)
ref_plane "ball_7_YZ" through (0, 0, -16.75) normal (0, 0, -1) x (0, 1, 0)
ref_plane "ball_7_ZX" through (0, 0, -16.75) normal (0, 1, 0) x (1, 0, 0)
ref_plane "ball_8_XY" through (0, 11.844, -11.844) normal (1, 0, 0) x (0, 0, -1)
ref_plane "ball_8_YZ" through (0, 11.844, -11.844) normal (0, 0, -1) x (0, 1, 0)
ref_plane "ball_8_ZX" through (0, 11.844, -11.844) normal (0, 1, 0) x (1, 0, 0)
ref_plane "brg_XY" through (0, 0, 0) normal (1, 0, 0) x (0, 0, -1)
ref_plane "brg_YZ" through (0, 0, 0) normal (0, 0, -1) x (0, 1, 0)
ref_plane "brg_ZX" through (0, 0, 0) normal (0, 1, 0) x (1, 0, 0)
ref_plane "brg3_XY" through (18.288, 0, 0) normal (1, 0, 0) x (0, 0, -1)
ref_plane "brg3_YZ" through (18.288, 0, 0) normal (0, 0, -1) x (0, 1, 0)
ref_plane "brg3_ZX" through (18.288, 0, 0) normal (0, 1, 0) x (1, 0, 0)
properties part number "YAR 204-2LPW/SS-28.02014 -bearing" material "Stainless Steel"
